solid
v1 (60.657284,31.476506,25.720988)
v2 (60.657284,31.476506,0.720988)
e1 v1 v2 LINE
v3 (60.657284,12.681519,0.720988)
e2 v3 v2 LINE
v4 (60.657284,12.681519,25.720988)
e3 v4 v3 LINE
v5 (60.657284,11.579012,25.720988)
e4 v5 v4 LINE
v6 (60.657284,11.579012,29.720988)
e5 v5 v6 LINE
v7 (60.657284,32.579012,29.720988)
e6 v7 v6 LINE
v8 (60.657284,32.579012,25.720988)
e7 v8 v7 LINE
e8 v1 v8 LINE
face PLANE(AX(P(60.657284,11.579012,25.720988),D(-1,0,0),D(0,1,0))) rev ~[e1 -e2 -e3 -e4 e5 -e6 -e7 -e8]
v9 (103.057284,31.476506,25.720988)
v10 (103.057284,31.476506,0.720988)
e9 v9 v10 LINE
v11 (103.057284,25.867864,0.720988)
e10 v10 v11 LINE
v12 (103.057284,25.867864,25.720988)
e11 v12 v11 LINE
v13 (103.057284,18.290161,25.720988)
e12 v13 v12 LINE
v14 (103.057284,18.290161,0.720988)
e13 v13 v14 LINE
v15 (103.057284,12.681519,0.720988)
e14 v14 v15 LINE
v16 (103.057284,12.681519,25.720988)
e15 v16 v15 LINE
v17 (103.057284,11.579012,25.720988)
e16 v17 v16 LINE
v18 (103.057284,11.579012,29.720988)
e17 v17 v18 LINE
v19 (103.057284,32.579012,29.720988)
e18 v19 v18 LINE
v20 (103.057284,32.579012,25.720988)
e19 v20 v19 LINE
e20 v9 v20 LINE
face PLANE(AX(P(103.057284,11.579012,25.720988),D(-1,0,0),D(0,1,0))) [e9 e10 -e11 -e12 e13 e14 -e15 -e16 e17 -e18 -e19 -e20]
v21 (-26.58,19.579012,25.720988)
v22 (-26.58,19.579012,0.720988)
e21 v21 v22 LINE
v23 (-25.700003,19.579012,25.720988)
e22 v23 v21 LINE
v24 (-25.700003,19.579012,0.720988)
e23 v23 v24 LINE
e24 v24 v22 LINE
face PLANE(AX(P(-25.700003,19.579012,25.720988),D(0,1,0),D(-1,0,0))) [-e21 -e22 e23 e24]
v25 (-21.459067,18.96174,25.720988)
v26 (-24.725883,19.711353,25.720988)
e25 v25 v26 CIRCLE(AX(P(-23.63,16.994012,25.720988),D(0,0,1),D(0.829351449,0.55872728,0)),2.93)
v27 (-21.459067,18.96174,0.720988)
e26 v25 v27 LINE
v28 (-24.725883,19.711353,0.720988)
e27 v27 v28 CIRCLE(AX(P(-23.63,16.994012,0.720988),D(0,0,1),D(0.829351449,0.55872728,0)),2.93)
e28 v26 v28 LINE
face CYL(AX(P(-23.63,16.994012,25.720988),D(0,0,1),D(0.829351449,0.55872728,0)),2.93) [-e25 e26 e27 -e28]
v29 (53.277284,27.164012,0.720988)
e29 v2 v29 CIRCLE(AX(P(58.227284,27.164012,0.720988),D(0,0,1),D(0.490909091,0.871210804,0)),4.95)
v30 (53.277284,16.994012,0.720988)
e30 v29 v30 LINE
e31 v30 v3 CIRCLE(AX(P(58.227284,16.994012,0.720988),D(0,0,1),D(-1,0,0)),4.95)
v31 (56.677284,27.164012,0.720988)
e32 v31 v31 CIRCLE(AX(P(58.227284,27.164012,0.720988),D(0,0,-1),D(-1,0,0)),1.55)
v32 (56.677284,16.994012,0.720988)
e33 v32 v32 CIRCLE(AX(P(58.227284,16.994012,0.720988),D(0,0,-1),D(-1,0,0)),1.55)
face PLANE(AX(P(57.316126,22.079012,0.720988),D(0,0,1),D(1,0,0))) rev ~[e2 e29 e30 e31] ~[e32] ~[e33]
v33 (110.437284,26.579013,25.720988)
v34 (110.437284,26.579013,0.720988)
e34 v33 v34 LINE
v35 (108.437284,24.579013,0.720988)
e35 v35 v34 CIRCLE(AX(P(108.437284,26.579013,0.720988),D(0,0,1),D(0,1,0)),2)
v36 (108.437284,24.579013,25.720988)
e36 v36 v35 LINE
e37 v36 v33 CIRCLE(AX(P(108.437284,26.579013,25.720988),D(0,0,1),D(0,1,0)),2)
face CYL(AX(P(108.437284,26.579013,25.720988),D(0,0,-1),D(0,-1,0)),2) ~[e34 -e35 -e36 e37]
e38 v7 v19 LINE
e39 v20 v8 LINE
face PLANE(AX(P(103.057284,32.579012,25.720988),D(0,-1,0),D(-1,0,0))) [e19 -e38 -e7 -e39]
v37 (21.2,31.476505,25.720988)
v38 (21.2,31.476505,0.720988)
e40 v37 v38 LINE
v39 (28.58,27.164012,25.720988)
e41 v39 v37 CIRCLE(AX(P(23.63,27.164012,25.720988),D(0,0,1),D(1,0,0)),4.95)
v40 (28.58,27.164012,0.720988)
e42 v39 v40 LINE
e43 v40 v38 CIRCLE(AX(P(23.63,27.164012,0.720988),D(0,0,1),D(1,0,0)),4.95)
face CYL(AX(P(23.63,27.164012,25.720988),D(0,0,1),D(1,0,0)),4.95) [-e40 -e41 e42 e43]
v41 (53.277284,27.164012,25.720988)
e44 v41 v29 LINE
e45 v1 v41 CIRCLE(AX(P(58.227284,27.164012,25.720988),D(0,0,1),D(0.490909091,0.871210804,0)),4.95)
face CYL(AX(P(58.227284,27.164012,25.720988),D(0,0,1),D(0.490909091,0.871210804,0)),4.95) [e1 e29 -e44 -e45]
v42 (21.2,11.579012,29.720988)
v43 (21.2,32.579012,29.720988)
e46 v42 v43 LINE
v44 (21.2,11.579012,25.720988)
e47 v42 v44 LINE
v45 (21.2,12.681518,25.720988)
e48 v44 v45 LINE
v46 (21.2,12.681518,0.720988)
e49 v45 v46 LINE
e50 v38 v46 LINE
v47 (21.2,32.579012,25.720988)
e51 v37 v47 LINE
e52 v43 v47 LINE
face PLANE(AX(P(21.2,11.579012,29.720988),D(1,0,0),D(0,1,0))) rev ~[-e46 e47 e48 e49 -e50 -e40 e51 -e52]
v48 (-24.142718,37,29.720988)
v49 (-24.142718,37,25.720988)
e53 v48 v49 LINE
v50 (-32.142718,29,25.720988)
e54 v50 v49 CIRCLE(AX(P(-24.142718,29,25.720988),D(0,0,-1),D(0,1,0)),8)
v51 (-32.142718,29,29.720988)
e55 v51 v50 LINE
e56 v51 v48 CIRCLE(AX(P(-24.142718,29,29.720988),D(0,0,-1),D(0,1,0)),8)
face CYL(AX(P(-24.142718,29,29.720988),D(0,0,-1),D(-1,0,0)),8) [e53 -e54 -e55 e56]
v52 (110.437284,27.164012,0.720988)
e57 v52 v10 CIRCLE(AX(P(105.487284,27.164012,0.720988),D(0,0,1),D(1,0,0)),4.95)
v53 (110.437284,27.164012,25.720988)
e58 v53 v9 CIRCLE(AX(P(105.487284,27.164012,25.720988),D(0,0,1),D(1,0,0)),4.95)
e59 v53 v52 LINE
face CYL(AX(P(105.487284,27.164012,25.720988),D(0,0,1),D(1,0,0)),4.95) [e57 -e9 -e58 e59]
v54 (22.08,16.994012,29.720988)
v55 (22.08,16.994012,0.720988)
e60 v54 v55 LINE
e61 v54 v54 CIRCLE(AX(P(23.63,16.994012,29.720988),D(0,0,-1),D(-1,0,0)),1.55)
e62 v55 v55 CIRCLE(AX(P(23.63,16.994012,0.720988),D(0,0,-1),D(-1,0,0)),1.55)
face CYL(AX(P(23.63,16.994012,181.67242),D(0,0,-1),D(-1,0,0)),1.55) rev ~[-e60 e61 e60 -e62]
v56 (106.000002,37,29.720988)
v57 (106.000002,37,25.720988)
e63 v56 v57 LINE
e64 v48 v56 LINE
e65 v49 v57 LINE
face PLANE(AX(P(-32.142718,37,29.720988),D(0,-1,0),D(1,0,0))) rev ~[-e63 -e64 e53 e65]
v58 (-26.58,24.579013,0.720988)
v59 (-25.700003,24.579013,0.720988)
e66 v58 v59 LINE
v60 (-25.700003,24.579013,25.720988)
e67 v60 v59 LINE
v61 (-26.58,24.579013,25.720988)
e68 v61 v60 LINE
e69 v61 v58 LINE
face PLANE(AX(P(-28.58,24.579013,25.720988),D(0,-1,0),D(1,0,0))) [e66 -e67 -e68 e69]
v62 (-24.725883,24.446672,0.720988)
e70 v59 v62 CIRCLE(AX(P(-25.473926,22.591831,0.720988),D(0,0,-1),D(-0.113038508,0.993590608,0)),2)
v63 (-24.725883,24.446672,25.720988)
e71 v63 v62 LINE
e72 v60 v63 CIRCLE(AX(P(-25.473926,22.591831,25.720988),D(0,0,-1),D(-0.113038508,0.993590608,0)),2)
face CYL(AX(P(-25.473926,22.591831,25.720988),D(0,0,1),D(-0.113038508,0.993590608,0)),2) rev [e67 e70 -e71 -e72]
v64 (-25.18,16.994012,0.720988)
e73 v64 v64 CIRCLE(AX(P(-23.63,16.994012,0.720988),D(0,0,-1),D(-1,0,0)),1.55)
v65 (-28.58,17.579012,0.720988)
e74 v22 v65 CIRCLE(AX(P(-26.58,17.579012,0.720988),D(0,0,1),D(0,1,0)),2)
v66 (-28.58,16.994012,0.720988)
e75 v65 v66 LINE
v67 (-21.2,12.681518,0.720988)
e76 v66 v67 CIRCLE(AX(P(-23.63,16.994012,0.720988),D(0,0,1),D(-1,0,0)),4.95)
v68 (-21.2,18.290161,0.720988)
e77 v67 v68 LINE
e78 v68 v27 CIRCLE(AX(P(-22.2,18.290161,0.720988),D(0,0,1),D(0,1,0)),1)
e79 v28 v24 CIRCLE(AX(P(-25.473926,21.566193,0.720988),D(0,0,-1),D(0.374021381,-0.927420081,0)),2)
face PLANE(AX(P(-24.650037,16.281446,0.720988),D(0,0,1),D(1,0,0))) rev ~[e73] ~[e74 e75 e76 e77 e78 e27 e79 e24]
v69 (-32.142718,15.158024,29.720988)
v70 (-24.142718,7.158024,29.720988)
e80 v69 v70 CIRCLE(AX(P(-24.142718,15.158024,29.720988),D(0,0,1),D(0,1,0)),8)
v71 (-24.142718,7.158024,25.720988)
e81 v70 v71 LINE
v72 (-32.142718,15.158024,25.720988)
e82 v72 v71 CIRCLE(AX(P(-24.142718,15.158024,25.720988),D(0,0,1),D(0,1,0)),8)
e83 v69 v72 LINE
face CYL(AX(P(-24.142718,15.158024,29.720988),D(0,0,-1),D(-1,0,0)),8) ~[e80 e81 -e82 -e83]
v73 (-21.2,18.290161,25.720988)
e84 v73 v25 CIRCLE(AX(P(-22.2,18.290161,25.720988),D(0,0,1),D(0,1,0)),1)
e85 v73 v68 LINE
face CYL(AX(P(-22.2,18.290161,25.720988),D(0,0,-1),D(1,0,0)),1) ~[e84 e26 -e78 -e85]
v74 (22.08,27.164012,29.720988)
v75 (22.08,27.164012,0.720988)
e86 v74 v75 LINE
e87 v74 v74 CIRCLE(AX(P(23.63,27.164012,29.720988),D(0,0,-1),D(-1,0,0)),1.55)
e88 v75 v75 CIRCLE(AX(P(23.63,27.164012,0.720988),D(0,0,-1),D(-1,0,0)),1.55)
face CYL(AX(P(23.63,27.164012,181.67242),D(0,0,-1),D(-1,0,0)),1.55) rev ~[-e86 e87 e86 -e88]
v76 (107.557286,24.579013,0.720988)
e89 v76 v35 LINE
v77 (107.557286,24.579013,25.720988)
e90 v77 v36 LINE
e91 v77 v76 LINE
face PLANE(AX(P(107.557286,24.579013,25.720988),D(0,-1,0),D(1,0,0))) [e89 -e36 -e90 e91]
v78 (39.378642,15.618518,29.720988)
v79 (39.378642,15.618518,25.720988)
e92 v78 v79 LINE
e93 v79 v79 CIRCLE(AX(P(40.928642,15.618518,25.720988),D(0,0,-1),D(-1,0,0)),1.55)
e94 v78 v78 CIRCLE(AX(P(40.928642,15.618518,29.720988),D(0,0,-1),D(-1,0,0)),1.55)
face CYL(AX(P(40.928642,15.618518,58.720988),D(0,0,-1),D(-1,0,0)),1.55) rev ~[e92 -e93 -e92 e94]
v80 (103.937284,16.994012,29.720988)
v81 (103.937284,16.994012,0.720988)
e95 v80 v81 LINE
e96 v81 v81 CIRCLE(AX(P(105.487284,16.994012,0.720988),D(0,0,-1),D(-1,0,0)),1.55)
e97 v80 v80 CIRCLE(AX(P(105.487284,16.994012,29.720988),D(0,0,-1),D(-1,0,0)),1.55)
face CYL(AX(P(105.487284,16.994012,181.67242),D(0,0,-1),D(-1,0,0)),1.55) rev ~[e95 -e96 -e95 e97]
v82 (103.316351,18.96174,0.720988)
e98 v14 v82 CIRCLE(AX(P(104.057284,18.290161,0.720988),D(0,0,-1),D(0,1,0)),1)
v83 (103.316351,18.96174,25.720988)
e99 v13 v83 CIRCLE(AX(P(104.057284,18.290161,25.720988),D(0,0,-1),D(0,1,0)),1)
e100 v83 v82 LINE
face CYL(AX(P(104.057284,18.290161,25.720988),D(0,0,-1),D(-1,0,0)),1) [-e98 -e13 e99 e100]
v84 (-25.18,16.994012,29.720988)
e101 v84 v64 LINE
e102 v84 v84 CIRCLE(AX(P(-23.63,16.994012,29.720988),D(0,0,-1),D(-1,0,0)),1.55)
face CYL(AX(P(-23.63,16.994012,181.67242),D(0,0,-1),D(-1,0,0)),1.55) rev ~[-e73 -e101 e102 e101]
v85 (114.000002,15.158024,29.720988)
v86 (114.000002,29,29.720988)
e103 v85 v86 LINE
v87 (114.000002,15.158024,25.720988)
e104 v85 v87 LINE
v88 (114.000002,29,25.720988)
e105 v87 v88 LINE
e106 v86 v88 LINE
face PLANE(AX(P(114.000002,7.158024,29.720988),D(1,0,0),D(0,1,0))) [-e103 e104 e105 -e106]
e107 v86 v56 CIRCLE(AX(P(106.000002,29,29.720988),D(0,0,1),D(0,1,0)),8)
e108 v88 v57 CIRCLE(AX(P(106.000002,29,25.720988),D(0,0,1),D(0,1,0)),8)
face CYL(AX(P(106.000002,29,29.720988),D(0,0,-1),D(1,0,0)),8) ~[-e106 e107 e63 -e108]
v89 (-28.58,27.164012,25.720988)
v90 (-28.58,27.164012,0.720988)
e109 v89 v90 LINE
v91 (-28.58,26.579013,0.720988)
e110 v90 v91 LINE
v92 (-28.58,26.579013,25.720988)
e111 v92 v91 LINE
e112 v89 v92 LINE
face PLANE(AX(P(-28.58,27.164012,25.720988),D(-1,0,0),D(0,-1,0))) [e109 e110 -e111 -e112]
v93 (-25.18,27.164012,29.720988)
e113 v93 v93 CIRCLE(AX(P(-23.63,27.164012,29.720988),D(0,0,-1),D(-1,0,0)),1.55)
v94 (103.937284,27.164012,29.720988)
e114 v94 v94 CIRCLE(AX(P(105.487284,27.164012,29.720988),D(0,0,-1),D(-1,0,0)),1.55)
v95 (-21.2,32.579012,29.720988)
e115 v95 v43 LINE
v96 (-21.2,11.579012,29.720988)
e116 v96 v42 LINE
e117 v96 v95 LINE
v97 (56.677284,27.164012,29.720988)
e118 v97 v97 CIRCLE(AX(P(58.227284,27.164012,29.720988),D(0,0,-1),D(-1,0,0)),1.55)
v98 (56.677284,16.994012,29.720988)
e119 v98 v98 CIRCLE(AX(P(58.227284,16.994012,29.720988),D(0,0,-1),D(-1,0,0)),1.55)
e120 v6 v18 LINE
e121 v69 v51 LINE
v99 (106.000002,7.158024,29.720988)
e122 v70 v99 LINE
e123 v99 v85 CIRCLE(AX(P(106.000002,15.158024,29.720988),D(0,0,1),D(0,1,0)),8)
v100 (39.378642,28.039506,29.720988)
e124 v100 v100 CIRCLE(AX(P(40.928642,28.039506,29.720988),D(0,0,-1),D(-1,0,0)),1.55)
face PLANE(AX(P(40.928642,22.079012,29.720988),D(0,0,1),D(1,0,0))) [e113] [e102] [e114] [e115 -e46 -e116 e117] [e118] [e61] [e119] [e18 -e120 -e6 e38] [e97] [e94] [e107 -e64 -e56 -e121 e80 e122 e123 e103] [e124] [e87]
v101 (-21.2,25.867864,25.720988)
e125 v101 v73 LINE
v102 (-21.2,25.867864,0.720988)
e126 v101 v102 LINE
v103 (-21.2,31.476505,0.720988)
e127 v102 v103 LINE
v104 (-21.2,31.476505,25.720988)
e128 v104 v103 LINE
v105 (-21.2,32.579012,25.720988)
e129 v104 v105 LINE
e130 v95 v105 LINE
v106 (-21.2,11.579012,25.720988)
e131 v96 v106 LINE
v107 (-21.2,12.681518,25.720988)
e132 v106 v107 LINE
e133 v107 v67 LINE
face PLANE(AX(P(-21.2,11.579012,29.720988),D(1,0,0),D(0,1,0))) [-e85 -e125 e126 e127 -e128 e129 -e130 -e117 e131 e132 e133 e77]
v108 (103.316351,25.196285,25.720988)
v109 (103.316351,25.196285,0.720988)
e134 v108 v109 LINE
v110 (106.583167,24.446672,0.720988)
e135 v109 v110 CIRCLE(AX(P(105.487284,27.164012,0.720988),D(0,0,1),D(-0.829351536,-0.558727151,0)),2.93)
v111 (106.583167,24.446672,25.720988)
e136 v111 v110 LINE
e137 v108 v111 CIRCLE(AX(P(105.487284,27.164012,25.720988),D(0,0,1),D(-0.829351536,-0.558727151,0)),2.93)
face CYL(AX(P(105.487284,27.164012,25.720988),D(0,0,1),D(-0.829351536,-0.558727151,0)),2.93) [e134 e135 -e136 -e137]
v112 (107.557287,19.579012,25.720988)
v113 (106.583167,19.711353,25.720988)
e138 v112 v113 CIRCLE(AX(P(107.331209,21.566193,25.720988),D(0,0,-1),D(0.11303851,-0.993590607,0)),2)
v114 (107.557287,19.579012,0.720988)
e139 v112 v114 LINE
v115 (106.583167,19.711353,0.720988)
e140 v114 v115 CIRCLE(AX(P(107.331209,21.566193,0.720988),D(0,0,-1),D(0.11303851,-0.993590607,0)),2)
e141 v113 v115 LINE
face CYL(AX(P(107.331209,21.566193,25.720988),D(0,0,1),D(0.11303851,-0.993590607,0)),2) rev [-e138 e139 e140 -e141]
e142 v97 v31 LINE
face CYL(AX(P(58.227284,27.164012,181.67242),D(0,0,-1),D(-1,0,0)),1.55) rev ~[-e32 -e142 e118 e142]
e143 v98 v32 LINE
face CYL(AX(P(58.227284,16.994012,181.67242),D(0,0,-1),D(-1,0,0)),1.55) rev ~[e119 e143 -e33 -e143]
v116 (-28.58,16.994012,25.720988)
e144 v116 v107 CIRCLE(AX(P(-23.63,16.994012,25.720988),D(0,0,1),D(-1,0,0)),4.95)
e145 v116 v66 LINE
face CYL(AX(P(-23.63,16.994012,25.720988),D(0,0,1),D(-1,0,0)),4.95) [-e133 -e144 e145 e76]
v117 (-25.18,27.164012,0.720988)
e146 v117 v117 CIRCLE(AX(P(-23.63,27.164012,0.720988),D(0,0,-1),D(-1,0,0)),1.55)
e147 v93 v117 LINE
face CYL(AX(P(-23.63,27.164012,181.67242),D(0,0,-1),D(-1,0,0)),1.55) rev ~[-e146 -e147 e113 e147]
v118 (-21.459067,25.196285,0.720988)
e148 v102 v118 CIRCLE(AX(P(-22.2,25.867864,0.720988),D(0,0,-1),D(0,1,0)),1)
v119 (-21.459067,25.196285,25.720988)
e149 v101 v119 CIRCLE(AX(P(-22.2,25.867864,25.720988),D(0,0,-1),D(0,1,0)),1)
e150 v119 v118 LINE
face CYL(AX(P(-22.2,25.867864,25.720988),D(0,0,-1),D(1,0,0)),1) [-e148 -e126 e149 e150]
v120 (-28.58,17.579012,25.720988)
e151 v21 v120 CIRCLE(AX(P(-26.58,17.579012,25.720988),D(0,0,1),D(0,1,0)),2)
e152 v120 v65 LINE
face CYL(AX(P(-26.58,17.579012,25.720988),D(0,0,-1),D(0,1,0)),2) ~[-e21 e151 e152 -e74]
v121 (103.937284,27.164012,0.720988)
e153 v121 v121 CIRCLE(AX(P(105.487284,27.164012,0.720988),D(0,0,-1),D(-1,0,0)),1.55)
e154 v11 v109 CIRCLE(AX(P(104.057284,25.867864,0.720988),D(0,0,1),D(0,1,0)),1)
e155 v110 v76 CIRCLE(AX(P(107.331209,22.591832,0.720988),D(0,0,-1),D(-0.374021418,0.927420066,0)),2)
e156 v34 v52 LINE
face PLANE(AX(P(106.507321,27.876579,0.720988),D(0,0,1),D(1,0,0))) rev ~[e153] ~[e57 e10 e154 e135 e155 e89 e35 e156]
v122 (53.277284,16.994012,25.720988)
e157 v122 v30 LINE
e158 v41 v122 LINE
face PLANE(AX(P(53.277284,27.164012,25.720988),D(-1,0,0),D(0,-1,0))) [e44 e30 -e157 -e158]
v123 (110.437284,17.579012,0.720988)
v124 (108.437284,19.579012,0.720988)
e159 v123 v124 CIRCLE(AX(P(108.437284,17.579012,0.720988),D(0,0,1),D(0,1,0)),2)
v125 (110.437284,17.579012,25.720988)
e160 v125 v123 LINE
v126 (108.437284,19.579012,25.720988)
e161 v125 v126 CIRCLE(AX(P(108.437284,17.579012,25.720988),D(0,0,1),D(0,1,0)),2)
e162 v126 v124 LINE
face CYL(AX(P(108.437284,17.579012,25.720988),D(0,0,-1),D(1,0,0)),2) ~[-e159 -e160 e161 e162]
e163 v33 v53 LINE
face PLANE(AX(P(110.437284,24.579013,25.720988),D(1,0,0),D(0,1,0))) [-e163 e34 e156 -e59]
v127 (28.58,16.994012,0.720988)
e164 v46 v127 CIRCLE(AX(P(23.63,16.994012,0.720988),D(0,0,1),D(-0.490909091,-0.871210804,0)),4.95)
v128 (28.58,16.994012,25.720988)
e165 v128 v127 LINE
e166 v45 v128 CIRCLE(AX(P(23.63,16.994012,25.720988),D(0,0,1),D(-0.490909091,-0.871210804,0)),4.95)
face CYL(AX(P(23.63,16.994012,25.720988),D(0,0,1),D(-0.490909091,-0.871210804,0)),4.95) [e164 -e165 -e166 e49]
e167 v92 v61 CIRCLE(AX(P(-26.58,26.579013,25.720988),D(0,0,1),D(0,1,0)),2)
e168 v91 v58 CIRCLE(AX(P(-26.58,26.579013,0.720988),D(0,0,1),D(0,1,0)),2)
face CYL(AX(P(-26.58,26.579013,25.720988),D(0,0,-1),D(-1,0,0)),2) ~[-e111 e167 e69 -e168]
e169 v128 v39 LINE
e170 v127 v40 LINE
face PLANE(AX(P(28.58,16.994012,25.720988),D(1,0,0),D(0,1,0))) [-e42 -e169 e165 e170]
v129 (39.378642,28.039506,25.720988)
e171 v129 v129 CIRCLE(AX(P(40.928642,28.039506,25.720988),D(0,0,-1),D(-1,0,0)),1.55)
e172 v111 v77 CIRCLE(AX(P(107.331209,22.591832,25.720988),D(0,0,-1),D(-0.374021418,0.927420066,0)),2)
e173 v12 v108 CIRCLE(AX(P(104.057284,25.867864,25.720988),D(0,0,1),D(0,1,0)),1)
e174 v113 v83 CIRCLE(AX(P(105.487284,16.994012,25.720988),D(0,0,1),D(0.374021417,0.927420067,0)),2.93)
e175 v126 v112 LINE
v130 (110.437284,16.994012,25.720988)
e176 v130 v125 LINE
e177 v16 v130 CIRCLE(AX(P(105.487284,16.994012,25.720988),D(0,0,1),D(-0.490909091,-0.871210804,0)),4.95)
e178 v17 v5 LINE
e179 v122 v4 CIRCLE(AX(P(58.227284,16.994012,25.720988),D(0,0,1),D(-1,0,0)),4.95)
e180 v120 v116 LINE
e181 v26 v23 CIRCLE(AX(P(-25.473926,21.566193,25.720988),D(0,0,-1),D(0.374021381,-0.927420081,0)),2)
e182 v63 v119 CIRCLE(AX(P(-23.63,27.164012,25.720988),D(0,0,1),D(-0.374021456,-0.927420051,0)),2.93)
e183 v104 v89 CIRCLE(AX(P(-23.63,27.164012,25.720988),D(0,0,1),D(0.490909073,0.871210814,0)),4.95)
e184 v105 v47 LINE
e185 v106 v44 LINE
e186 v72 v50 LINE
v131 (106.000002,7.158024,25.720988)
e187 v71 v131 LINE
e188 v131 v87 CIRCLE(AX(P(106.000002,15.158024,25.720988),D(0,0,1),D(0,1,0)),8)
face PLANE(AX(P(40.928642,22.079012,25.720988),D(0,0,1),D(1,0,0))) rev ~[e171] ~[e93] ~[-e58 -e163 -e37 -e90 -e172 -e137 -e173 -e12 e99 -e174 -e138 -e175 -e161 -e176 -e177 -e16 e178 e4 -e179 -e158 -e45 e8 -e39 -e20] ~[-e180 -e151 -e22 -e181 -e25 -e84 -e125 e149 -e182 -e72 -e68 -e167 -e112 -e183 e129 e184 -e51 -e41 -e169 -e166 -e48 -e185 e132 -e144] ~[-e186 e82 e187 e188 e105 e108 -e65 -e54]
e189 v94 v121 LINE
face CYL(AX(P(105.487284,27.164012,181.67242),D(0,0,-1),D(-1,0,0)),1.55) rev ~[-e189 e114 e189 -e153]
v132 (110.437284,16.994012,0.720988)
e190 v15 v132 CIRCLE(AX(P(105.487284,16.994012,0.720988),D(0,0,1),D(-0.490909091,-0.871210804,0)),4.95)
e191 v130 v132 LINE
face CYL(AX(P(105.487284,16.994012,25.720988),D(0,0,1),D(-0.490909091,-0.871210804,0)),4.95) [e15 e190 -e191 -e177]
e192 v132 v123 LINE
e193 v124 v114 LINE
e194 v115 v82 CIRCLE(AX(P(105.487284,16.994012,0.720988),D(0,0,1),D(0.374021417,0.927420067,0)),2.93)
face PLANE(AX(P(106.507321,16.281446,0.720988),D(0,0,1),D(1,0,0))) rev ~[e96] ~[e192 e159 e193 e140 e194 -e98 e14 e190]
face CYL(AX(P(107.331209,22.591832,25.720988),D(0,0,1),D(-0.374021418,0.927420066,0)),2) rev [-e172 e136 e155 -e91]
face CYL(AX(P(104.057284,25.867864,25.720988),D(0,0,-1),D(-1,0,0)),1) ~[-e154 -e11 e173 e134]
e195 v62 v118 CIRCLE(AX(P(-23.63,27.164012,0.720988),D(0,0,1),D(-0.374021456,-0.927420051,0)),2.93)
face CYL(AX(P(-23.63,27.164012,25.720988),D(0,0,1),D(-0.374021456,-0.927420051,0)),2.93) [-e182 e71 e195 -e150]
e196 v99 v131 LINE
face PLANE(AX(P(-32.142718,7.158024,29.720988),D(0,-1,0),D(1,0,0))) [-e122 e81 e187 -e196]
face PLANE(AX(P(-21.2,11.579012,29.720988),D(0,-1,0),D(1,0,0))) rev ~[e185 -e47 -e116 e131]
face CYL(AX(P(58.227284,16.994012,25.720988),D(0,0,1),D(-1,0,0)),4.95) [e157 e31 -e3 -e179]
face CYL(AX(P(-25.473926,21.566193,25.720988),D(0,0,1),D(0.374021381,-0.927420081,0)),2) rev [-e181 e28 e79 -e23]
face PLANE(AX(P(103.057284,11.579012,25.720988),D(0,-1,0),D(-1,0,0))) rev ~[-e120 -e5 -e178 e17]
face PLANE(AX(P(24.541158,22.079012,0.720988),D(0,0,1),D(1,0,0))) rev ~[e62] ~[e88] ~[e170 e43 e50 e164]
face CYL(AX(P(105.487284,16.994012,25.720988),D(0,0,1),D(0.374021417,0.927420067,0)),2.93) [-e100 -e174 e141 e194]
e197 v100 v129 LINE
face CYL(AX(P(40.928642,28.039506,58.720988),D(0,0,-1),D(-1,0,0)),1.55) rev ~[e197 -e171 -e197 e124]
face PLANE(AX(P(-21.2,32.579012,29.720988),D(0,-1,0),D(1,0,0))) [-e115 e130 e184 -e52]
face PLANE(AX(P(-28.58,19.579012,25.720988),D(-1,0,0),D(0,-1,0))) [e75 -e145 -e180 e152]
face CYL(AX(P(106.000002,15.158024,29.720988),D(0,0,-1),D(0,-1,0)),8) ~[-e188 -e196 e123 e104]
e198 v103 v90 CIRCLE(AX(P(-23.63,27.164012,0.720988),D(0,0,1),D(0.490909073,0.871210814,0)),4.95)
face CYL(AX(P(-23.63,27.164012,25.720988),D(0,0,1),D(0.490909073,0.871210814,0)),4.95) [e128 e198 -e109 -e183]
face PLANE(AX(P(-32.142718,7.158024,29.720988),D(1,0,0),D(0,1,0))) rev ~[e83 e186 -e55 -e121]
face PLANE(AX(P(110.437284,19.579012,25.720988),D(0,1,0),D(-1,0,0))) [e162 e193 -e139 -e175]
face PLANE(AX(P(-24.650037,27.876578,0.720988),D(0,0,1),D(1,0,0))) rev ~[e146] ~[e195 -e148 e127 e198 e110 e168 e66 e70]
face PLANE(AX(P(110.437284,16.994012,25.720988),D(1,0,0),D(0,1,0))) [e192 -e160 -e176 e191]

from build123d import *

# Parameters (mm, degrees)
SKETCH1_W                      = 146.142719433
SKETCH1_H                      = 29.841975708
BOSS_EXTRUDE1_DEPTH            = 4
SKETCH2_W                      = 42.4
SKETCH2_H                      = 21
CUT_EXTRUDE1_DEPTH             = 120.920808812
SKETCH3_W                      = 42.4
SKETCH3_H                      = 21
CUT_EXTRUDE2_DEPTH             = 120.920808812
BOSS_EXTRUDE2_DEPTH            = 25
BOSS_EXTRUDE3_DEPTH            = 25
BOSS_EXTRUDE4_DEPTH            = 25
BOSS_EXTRUDE5_DEPTH            = 25
BOSS_EXTRUDE6_DEPTH            = 25
BOSS_EXTRUDE7_DEPTH            = 25
F_3_1_3_1_DIAMETER_HOLE1_D     = 3.1
F_3_1_3_1_DIAMETER_HOLE1_DEPTH = 29
F_3_1_3_1_DIAMETER_HOLE2_D     = 3.1
FILLET1_R                      = 1
FILLET2_R                      = 2
FILLET3_R                      = 8


with BuildPart() as part:
    # Sketch1 → Boss-Extrude1 (new body)
    with BuildSketch(Plane.XY.offset(29.720987506)):
        with Locations((40.928641953, 22.079012221)):
            Rectangle(SKETCH1_W, SKETCH1_H)
    extrude(amount=-BOSS_EXTRUDE1_DEPTH)

    # Sketch2 → Cut-Extrude1 (cut, through all)
    with BuildSketch(Plane.XY.offset(29.720987506)):
        with Locations((0, 22.079011948)):
            Rectangle(SKETCH2_W, SKETCH2_H)
    extrude(amount=-CUT_EXTRUDE1_DEPTH, mode=Mode.SUBTRACT)

    # Sketch3 → Cut-Extrude2 (cut, through all)
    with BuildSketch(Plane(origin=(0, 0, 25.720987506), x_dir=(-1, 0, 0), z_dir=(0, 0, -1))):
        with Locations((-81.857283905, 22.079012494)):
            Rectangle(SKETCH3_W, SKETCH3_H)
    extrude(amount=-CUT_EXTRUDE2_DEPTH, mode=Mode.SUBTRACT)

    # Sketch4 → Boss-Extrude2 (add)
    with BuildSketch(Plane(origin=(0, 0, 25.720987506), x_dir=(-1, 0, 0), z_dir=(0, 0, -1))):
        with BuildLine():
            Line((28.579999925, 27.164011892), (28.579999925, 24.579012633))
            Line((28.579999925, 24.579012633), (25.700002555, 24.579012633))
            ThreePointArc((25.700002555, 24.579012633), (25.204684679, 24.573625897), (24.72588263, 24.446671519))
            ThreePointArc((24.72588263, 24.446671519), (22.771679916, 24.362550773), (21.2, 25.52694194))
            Line((21.2, 25.52694194), (21.2, 31.476505426))
            ThreePointArc((21.2, 31.476505426), (26.12739861, 31.437827499), (28.579999925, 27.164011892))
        make_face()
    extrude(amount=BOSS_EXTRUDE2_DEPTH)

    # Sketch5 → Boss-Extrude3 (add)
    with BuildSketch(Plane(origin=(0, 0, 25.720987506), x_dir=(-1, 0, 0), z_dir=(0, 0, -1))):
        with BuildLine():
            Line((25.700002576, 19.579012066), (28.580000075, 19.579012066))
            Line((28.580000075, 19.579012066), (28.580000075, 16.994011892))
            ThreePointArc((28.580000075, 16.994011892), (26.127398683, 12.720196248), (21.2, 12.68151847))
            Line((21.2, 12.68151847), (21.2, 18.631083048))
            ThreePointArc((21.2, 18.631083048), (22.771680162, 19.795473883), (24.725882875, 19.711353108))
            ThreePointArc((24.725882875, 19.711353108), (25.204684818, 19.58439879), (25.700002576, 19.579012066))
        make_face()
    extrude(amount=BOSS_EXTRUDE3_DEPTH)

    # Sketch6 → Boss-Extrude4 (add)
    with BuildSketch(Plane(origin=(0, 0, 25.720987506), x_dir=(-1, 0, 0), z_dir=(0, 0, -1))):
        with BuildLine():
            Line((-107.557286435, 24.579012773), (-110.437283905, 24.579012773))
            Line((-110.437283905, 24.579012773), (-110.437283905, 27.164012494))
            ThreePointArc((-110.437283905, 27.164012494), (-107.984682551, 31.43782812), (-103.057283905, 31.476505972))
            Line((-103.057283905, 31.476505972), (-103.057283905, 25.52694194))
            ThreePointArc((-103.057283905, 25.52694194), (-104.628963944, 24.362550939), (-106.583166657, 24.4466717))
            ThreePointArc((-106.583166657, 24.4466717), (-107.061968635, 24.573626043), (-107.557286435, 24.579012773))
        make_face()
    extrude(amount=BOSS_EXTRUDE4_DEPTH)

    # Sketch7 → Boss-Extrude5 (add)
    with BuildSketch(Plane(origin=(0, 0, 25.720987506), x_dir=(-1, 0, 0), z_dir=(0, 0, -1))):
        with BuildLine():
            Line((-110.437283905, 16.994012494), (-110.437283905, 19.579012206))
            Line((-110.437283905, 19.579012206), (-107.557286506, 19.579012206))
            ThreePointArc((-107.557286506, 19.579012206), (-107.06196867, 19.584398936), (-106.583166657, 19.711353289))
            ThreePointArc((-106.583166657, 19.711353289), (-104.628963944, 19.795474049), (-103.057283905, 18.631083048))
            Line((-103.057283905, 18.631083048), (-103.057283905, 12.681519016))
            ThreePointArc((-103.057283905, 12.681519016), (-107.984682551, 12.720196869), (-110.437283905, 16.994012494))
        make_face()
    extrude(amount=BOSS_EXTRUDE5_DEPTH)

    # Sketch8 → Boss-Extrude6 (add)
    with BuildSketch(Plane(origin=(0, 0, 25.720987506), x_dir=(-1, 0, 0), z_dir=(0, 0, -1))):
        with BuildLine():
            Line((-28.58, 16.994011948), (-28.58, 27.164011948))
            ThreePointArc((-28.58, 27.164011948), (-26.127398647, 31.437827573), (-21.2, 31.476505426))
            Line((-21.2, 31.476505426), (-21.2, 12.68151847))
            ThreePointArc((-21.2, 12.68151847), (-26.127398647, 12.720196322), (-28.58, 16.994011948))
        make_face()
    extrude(amount=BOSS_EXTRUDE6_DEPTH)

    # Sketch9 → Boss-Extrude7 (add)
    with BuildSketch(Plane(origin=(0, 0, 25.720987506), x_dir=(-1, 0, 0), z_dir=(0, 0, -1))):
        with BuildLine():
            Line((-53.277283905, 27.164012494), (-53.277283905, 16.994012494))
            ThreePointArc((-53.277283905, 16.994012494), (-55.729885258, 12.720196869), (-60.657283905, 12.681519016))
            Line((-60.657283905, 12.681519016), (-60.657283905, 31.476505972))
            ThreePointArc((-60.657283905, 31.476505972), (-55.729885258, 31.43782812), (-53.277283905, 27.164012494))
        make_face()
    extrude(amount=BOSS_EXTRUDE7_DEPTH)

    # Ø3.1 (3.1) Diameter Hole1
    with Locations(Plane.XY.offset(29.720987506)):
        with Locations((40.928641952, 15.618518294), (40.928641952, 28.039506364)):
            Hole(F_3_1_3_1_DIAMETER_HOLE1_D / 2, depth=F_3_1_3_1_DIAMETER_HOLE1_DEPTH)

    # Ø3.1 (3.1) Diameter Hole2 (through all)
    with Locations(Plane.XY.offset(29.720987506)):
        with Locations((-23.63, 27.164011948), (-23.63, 16.994011948), (23.63, 16.994011948), (23.63, 27.164011948), (58.227283905, 16.994012494), (58.227283905, 27.164012494), (105.487283905, 16.994012494), (105.487283905, 27.164012494)):
            Hole(F_3_1_3_1_DIAMETER_HOLE2_D / 2)

    # Fillet1
    fillet1_edges = [part.edges().sort_by_distance(p)[0] for p in [
        (103.057283905, 18.631083048, 13.220987506),
        (-21.2, 25.52694194, 13.220987506),
        (-21.2, 18.631083048, 13.220987506),
        (103.057283905, 25.52694194, 13.220987506),
    ]]
    fillet(fillet1_edges, radius=FILLET1_R)

    # Fillet2
    fillet2_edges = [part.edges().sort_by_distance(p)[0] for p in [
        (110.437283905, 19.579012206, 13.220987506),
        (-28.579999925, 24.579012633, 13.220987506),
        (-28.580000075, 19.579012066, 13.220987506),
        (110.437283905, 24.579012773, 13.220987506),
    ]]
    fillet(fillet2_edges, radius=FILLET2_R)

    # Fillet3
    fillet3_edges = [part.edges().sort_by_distance(p)[0] for p in [
        (-32.142717764, 7.158024367, 27.720987506),
        (-32.142717764, 37.000000075, 27.720987506),
        (114.000001669, 37.000000075, 27.720987506),
        (114.000001669, 7.158024367, 27.720987506),
    ]]
    fillet(fillet3_edges, radius=FILLET3_R)


solid = part.part
